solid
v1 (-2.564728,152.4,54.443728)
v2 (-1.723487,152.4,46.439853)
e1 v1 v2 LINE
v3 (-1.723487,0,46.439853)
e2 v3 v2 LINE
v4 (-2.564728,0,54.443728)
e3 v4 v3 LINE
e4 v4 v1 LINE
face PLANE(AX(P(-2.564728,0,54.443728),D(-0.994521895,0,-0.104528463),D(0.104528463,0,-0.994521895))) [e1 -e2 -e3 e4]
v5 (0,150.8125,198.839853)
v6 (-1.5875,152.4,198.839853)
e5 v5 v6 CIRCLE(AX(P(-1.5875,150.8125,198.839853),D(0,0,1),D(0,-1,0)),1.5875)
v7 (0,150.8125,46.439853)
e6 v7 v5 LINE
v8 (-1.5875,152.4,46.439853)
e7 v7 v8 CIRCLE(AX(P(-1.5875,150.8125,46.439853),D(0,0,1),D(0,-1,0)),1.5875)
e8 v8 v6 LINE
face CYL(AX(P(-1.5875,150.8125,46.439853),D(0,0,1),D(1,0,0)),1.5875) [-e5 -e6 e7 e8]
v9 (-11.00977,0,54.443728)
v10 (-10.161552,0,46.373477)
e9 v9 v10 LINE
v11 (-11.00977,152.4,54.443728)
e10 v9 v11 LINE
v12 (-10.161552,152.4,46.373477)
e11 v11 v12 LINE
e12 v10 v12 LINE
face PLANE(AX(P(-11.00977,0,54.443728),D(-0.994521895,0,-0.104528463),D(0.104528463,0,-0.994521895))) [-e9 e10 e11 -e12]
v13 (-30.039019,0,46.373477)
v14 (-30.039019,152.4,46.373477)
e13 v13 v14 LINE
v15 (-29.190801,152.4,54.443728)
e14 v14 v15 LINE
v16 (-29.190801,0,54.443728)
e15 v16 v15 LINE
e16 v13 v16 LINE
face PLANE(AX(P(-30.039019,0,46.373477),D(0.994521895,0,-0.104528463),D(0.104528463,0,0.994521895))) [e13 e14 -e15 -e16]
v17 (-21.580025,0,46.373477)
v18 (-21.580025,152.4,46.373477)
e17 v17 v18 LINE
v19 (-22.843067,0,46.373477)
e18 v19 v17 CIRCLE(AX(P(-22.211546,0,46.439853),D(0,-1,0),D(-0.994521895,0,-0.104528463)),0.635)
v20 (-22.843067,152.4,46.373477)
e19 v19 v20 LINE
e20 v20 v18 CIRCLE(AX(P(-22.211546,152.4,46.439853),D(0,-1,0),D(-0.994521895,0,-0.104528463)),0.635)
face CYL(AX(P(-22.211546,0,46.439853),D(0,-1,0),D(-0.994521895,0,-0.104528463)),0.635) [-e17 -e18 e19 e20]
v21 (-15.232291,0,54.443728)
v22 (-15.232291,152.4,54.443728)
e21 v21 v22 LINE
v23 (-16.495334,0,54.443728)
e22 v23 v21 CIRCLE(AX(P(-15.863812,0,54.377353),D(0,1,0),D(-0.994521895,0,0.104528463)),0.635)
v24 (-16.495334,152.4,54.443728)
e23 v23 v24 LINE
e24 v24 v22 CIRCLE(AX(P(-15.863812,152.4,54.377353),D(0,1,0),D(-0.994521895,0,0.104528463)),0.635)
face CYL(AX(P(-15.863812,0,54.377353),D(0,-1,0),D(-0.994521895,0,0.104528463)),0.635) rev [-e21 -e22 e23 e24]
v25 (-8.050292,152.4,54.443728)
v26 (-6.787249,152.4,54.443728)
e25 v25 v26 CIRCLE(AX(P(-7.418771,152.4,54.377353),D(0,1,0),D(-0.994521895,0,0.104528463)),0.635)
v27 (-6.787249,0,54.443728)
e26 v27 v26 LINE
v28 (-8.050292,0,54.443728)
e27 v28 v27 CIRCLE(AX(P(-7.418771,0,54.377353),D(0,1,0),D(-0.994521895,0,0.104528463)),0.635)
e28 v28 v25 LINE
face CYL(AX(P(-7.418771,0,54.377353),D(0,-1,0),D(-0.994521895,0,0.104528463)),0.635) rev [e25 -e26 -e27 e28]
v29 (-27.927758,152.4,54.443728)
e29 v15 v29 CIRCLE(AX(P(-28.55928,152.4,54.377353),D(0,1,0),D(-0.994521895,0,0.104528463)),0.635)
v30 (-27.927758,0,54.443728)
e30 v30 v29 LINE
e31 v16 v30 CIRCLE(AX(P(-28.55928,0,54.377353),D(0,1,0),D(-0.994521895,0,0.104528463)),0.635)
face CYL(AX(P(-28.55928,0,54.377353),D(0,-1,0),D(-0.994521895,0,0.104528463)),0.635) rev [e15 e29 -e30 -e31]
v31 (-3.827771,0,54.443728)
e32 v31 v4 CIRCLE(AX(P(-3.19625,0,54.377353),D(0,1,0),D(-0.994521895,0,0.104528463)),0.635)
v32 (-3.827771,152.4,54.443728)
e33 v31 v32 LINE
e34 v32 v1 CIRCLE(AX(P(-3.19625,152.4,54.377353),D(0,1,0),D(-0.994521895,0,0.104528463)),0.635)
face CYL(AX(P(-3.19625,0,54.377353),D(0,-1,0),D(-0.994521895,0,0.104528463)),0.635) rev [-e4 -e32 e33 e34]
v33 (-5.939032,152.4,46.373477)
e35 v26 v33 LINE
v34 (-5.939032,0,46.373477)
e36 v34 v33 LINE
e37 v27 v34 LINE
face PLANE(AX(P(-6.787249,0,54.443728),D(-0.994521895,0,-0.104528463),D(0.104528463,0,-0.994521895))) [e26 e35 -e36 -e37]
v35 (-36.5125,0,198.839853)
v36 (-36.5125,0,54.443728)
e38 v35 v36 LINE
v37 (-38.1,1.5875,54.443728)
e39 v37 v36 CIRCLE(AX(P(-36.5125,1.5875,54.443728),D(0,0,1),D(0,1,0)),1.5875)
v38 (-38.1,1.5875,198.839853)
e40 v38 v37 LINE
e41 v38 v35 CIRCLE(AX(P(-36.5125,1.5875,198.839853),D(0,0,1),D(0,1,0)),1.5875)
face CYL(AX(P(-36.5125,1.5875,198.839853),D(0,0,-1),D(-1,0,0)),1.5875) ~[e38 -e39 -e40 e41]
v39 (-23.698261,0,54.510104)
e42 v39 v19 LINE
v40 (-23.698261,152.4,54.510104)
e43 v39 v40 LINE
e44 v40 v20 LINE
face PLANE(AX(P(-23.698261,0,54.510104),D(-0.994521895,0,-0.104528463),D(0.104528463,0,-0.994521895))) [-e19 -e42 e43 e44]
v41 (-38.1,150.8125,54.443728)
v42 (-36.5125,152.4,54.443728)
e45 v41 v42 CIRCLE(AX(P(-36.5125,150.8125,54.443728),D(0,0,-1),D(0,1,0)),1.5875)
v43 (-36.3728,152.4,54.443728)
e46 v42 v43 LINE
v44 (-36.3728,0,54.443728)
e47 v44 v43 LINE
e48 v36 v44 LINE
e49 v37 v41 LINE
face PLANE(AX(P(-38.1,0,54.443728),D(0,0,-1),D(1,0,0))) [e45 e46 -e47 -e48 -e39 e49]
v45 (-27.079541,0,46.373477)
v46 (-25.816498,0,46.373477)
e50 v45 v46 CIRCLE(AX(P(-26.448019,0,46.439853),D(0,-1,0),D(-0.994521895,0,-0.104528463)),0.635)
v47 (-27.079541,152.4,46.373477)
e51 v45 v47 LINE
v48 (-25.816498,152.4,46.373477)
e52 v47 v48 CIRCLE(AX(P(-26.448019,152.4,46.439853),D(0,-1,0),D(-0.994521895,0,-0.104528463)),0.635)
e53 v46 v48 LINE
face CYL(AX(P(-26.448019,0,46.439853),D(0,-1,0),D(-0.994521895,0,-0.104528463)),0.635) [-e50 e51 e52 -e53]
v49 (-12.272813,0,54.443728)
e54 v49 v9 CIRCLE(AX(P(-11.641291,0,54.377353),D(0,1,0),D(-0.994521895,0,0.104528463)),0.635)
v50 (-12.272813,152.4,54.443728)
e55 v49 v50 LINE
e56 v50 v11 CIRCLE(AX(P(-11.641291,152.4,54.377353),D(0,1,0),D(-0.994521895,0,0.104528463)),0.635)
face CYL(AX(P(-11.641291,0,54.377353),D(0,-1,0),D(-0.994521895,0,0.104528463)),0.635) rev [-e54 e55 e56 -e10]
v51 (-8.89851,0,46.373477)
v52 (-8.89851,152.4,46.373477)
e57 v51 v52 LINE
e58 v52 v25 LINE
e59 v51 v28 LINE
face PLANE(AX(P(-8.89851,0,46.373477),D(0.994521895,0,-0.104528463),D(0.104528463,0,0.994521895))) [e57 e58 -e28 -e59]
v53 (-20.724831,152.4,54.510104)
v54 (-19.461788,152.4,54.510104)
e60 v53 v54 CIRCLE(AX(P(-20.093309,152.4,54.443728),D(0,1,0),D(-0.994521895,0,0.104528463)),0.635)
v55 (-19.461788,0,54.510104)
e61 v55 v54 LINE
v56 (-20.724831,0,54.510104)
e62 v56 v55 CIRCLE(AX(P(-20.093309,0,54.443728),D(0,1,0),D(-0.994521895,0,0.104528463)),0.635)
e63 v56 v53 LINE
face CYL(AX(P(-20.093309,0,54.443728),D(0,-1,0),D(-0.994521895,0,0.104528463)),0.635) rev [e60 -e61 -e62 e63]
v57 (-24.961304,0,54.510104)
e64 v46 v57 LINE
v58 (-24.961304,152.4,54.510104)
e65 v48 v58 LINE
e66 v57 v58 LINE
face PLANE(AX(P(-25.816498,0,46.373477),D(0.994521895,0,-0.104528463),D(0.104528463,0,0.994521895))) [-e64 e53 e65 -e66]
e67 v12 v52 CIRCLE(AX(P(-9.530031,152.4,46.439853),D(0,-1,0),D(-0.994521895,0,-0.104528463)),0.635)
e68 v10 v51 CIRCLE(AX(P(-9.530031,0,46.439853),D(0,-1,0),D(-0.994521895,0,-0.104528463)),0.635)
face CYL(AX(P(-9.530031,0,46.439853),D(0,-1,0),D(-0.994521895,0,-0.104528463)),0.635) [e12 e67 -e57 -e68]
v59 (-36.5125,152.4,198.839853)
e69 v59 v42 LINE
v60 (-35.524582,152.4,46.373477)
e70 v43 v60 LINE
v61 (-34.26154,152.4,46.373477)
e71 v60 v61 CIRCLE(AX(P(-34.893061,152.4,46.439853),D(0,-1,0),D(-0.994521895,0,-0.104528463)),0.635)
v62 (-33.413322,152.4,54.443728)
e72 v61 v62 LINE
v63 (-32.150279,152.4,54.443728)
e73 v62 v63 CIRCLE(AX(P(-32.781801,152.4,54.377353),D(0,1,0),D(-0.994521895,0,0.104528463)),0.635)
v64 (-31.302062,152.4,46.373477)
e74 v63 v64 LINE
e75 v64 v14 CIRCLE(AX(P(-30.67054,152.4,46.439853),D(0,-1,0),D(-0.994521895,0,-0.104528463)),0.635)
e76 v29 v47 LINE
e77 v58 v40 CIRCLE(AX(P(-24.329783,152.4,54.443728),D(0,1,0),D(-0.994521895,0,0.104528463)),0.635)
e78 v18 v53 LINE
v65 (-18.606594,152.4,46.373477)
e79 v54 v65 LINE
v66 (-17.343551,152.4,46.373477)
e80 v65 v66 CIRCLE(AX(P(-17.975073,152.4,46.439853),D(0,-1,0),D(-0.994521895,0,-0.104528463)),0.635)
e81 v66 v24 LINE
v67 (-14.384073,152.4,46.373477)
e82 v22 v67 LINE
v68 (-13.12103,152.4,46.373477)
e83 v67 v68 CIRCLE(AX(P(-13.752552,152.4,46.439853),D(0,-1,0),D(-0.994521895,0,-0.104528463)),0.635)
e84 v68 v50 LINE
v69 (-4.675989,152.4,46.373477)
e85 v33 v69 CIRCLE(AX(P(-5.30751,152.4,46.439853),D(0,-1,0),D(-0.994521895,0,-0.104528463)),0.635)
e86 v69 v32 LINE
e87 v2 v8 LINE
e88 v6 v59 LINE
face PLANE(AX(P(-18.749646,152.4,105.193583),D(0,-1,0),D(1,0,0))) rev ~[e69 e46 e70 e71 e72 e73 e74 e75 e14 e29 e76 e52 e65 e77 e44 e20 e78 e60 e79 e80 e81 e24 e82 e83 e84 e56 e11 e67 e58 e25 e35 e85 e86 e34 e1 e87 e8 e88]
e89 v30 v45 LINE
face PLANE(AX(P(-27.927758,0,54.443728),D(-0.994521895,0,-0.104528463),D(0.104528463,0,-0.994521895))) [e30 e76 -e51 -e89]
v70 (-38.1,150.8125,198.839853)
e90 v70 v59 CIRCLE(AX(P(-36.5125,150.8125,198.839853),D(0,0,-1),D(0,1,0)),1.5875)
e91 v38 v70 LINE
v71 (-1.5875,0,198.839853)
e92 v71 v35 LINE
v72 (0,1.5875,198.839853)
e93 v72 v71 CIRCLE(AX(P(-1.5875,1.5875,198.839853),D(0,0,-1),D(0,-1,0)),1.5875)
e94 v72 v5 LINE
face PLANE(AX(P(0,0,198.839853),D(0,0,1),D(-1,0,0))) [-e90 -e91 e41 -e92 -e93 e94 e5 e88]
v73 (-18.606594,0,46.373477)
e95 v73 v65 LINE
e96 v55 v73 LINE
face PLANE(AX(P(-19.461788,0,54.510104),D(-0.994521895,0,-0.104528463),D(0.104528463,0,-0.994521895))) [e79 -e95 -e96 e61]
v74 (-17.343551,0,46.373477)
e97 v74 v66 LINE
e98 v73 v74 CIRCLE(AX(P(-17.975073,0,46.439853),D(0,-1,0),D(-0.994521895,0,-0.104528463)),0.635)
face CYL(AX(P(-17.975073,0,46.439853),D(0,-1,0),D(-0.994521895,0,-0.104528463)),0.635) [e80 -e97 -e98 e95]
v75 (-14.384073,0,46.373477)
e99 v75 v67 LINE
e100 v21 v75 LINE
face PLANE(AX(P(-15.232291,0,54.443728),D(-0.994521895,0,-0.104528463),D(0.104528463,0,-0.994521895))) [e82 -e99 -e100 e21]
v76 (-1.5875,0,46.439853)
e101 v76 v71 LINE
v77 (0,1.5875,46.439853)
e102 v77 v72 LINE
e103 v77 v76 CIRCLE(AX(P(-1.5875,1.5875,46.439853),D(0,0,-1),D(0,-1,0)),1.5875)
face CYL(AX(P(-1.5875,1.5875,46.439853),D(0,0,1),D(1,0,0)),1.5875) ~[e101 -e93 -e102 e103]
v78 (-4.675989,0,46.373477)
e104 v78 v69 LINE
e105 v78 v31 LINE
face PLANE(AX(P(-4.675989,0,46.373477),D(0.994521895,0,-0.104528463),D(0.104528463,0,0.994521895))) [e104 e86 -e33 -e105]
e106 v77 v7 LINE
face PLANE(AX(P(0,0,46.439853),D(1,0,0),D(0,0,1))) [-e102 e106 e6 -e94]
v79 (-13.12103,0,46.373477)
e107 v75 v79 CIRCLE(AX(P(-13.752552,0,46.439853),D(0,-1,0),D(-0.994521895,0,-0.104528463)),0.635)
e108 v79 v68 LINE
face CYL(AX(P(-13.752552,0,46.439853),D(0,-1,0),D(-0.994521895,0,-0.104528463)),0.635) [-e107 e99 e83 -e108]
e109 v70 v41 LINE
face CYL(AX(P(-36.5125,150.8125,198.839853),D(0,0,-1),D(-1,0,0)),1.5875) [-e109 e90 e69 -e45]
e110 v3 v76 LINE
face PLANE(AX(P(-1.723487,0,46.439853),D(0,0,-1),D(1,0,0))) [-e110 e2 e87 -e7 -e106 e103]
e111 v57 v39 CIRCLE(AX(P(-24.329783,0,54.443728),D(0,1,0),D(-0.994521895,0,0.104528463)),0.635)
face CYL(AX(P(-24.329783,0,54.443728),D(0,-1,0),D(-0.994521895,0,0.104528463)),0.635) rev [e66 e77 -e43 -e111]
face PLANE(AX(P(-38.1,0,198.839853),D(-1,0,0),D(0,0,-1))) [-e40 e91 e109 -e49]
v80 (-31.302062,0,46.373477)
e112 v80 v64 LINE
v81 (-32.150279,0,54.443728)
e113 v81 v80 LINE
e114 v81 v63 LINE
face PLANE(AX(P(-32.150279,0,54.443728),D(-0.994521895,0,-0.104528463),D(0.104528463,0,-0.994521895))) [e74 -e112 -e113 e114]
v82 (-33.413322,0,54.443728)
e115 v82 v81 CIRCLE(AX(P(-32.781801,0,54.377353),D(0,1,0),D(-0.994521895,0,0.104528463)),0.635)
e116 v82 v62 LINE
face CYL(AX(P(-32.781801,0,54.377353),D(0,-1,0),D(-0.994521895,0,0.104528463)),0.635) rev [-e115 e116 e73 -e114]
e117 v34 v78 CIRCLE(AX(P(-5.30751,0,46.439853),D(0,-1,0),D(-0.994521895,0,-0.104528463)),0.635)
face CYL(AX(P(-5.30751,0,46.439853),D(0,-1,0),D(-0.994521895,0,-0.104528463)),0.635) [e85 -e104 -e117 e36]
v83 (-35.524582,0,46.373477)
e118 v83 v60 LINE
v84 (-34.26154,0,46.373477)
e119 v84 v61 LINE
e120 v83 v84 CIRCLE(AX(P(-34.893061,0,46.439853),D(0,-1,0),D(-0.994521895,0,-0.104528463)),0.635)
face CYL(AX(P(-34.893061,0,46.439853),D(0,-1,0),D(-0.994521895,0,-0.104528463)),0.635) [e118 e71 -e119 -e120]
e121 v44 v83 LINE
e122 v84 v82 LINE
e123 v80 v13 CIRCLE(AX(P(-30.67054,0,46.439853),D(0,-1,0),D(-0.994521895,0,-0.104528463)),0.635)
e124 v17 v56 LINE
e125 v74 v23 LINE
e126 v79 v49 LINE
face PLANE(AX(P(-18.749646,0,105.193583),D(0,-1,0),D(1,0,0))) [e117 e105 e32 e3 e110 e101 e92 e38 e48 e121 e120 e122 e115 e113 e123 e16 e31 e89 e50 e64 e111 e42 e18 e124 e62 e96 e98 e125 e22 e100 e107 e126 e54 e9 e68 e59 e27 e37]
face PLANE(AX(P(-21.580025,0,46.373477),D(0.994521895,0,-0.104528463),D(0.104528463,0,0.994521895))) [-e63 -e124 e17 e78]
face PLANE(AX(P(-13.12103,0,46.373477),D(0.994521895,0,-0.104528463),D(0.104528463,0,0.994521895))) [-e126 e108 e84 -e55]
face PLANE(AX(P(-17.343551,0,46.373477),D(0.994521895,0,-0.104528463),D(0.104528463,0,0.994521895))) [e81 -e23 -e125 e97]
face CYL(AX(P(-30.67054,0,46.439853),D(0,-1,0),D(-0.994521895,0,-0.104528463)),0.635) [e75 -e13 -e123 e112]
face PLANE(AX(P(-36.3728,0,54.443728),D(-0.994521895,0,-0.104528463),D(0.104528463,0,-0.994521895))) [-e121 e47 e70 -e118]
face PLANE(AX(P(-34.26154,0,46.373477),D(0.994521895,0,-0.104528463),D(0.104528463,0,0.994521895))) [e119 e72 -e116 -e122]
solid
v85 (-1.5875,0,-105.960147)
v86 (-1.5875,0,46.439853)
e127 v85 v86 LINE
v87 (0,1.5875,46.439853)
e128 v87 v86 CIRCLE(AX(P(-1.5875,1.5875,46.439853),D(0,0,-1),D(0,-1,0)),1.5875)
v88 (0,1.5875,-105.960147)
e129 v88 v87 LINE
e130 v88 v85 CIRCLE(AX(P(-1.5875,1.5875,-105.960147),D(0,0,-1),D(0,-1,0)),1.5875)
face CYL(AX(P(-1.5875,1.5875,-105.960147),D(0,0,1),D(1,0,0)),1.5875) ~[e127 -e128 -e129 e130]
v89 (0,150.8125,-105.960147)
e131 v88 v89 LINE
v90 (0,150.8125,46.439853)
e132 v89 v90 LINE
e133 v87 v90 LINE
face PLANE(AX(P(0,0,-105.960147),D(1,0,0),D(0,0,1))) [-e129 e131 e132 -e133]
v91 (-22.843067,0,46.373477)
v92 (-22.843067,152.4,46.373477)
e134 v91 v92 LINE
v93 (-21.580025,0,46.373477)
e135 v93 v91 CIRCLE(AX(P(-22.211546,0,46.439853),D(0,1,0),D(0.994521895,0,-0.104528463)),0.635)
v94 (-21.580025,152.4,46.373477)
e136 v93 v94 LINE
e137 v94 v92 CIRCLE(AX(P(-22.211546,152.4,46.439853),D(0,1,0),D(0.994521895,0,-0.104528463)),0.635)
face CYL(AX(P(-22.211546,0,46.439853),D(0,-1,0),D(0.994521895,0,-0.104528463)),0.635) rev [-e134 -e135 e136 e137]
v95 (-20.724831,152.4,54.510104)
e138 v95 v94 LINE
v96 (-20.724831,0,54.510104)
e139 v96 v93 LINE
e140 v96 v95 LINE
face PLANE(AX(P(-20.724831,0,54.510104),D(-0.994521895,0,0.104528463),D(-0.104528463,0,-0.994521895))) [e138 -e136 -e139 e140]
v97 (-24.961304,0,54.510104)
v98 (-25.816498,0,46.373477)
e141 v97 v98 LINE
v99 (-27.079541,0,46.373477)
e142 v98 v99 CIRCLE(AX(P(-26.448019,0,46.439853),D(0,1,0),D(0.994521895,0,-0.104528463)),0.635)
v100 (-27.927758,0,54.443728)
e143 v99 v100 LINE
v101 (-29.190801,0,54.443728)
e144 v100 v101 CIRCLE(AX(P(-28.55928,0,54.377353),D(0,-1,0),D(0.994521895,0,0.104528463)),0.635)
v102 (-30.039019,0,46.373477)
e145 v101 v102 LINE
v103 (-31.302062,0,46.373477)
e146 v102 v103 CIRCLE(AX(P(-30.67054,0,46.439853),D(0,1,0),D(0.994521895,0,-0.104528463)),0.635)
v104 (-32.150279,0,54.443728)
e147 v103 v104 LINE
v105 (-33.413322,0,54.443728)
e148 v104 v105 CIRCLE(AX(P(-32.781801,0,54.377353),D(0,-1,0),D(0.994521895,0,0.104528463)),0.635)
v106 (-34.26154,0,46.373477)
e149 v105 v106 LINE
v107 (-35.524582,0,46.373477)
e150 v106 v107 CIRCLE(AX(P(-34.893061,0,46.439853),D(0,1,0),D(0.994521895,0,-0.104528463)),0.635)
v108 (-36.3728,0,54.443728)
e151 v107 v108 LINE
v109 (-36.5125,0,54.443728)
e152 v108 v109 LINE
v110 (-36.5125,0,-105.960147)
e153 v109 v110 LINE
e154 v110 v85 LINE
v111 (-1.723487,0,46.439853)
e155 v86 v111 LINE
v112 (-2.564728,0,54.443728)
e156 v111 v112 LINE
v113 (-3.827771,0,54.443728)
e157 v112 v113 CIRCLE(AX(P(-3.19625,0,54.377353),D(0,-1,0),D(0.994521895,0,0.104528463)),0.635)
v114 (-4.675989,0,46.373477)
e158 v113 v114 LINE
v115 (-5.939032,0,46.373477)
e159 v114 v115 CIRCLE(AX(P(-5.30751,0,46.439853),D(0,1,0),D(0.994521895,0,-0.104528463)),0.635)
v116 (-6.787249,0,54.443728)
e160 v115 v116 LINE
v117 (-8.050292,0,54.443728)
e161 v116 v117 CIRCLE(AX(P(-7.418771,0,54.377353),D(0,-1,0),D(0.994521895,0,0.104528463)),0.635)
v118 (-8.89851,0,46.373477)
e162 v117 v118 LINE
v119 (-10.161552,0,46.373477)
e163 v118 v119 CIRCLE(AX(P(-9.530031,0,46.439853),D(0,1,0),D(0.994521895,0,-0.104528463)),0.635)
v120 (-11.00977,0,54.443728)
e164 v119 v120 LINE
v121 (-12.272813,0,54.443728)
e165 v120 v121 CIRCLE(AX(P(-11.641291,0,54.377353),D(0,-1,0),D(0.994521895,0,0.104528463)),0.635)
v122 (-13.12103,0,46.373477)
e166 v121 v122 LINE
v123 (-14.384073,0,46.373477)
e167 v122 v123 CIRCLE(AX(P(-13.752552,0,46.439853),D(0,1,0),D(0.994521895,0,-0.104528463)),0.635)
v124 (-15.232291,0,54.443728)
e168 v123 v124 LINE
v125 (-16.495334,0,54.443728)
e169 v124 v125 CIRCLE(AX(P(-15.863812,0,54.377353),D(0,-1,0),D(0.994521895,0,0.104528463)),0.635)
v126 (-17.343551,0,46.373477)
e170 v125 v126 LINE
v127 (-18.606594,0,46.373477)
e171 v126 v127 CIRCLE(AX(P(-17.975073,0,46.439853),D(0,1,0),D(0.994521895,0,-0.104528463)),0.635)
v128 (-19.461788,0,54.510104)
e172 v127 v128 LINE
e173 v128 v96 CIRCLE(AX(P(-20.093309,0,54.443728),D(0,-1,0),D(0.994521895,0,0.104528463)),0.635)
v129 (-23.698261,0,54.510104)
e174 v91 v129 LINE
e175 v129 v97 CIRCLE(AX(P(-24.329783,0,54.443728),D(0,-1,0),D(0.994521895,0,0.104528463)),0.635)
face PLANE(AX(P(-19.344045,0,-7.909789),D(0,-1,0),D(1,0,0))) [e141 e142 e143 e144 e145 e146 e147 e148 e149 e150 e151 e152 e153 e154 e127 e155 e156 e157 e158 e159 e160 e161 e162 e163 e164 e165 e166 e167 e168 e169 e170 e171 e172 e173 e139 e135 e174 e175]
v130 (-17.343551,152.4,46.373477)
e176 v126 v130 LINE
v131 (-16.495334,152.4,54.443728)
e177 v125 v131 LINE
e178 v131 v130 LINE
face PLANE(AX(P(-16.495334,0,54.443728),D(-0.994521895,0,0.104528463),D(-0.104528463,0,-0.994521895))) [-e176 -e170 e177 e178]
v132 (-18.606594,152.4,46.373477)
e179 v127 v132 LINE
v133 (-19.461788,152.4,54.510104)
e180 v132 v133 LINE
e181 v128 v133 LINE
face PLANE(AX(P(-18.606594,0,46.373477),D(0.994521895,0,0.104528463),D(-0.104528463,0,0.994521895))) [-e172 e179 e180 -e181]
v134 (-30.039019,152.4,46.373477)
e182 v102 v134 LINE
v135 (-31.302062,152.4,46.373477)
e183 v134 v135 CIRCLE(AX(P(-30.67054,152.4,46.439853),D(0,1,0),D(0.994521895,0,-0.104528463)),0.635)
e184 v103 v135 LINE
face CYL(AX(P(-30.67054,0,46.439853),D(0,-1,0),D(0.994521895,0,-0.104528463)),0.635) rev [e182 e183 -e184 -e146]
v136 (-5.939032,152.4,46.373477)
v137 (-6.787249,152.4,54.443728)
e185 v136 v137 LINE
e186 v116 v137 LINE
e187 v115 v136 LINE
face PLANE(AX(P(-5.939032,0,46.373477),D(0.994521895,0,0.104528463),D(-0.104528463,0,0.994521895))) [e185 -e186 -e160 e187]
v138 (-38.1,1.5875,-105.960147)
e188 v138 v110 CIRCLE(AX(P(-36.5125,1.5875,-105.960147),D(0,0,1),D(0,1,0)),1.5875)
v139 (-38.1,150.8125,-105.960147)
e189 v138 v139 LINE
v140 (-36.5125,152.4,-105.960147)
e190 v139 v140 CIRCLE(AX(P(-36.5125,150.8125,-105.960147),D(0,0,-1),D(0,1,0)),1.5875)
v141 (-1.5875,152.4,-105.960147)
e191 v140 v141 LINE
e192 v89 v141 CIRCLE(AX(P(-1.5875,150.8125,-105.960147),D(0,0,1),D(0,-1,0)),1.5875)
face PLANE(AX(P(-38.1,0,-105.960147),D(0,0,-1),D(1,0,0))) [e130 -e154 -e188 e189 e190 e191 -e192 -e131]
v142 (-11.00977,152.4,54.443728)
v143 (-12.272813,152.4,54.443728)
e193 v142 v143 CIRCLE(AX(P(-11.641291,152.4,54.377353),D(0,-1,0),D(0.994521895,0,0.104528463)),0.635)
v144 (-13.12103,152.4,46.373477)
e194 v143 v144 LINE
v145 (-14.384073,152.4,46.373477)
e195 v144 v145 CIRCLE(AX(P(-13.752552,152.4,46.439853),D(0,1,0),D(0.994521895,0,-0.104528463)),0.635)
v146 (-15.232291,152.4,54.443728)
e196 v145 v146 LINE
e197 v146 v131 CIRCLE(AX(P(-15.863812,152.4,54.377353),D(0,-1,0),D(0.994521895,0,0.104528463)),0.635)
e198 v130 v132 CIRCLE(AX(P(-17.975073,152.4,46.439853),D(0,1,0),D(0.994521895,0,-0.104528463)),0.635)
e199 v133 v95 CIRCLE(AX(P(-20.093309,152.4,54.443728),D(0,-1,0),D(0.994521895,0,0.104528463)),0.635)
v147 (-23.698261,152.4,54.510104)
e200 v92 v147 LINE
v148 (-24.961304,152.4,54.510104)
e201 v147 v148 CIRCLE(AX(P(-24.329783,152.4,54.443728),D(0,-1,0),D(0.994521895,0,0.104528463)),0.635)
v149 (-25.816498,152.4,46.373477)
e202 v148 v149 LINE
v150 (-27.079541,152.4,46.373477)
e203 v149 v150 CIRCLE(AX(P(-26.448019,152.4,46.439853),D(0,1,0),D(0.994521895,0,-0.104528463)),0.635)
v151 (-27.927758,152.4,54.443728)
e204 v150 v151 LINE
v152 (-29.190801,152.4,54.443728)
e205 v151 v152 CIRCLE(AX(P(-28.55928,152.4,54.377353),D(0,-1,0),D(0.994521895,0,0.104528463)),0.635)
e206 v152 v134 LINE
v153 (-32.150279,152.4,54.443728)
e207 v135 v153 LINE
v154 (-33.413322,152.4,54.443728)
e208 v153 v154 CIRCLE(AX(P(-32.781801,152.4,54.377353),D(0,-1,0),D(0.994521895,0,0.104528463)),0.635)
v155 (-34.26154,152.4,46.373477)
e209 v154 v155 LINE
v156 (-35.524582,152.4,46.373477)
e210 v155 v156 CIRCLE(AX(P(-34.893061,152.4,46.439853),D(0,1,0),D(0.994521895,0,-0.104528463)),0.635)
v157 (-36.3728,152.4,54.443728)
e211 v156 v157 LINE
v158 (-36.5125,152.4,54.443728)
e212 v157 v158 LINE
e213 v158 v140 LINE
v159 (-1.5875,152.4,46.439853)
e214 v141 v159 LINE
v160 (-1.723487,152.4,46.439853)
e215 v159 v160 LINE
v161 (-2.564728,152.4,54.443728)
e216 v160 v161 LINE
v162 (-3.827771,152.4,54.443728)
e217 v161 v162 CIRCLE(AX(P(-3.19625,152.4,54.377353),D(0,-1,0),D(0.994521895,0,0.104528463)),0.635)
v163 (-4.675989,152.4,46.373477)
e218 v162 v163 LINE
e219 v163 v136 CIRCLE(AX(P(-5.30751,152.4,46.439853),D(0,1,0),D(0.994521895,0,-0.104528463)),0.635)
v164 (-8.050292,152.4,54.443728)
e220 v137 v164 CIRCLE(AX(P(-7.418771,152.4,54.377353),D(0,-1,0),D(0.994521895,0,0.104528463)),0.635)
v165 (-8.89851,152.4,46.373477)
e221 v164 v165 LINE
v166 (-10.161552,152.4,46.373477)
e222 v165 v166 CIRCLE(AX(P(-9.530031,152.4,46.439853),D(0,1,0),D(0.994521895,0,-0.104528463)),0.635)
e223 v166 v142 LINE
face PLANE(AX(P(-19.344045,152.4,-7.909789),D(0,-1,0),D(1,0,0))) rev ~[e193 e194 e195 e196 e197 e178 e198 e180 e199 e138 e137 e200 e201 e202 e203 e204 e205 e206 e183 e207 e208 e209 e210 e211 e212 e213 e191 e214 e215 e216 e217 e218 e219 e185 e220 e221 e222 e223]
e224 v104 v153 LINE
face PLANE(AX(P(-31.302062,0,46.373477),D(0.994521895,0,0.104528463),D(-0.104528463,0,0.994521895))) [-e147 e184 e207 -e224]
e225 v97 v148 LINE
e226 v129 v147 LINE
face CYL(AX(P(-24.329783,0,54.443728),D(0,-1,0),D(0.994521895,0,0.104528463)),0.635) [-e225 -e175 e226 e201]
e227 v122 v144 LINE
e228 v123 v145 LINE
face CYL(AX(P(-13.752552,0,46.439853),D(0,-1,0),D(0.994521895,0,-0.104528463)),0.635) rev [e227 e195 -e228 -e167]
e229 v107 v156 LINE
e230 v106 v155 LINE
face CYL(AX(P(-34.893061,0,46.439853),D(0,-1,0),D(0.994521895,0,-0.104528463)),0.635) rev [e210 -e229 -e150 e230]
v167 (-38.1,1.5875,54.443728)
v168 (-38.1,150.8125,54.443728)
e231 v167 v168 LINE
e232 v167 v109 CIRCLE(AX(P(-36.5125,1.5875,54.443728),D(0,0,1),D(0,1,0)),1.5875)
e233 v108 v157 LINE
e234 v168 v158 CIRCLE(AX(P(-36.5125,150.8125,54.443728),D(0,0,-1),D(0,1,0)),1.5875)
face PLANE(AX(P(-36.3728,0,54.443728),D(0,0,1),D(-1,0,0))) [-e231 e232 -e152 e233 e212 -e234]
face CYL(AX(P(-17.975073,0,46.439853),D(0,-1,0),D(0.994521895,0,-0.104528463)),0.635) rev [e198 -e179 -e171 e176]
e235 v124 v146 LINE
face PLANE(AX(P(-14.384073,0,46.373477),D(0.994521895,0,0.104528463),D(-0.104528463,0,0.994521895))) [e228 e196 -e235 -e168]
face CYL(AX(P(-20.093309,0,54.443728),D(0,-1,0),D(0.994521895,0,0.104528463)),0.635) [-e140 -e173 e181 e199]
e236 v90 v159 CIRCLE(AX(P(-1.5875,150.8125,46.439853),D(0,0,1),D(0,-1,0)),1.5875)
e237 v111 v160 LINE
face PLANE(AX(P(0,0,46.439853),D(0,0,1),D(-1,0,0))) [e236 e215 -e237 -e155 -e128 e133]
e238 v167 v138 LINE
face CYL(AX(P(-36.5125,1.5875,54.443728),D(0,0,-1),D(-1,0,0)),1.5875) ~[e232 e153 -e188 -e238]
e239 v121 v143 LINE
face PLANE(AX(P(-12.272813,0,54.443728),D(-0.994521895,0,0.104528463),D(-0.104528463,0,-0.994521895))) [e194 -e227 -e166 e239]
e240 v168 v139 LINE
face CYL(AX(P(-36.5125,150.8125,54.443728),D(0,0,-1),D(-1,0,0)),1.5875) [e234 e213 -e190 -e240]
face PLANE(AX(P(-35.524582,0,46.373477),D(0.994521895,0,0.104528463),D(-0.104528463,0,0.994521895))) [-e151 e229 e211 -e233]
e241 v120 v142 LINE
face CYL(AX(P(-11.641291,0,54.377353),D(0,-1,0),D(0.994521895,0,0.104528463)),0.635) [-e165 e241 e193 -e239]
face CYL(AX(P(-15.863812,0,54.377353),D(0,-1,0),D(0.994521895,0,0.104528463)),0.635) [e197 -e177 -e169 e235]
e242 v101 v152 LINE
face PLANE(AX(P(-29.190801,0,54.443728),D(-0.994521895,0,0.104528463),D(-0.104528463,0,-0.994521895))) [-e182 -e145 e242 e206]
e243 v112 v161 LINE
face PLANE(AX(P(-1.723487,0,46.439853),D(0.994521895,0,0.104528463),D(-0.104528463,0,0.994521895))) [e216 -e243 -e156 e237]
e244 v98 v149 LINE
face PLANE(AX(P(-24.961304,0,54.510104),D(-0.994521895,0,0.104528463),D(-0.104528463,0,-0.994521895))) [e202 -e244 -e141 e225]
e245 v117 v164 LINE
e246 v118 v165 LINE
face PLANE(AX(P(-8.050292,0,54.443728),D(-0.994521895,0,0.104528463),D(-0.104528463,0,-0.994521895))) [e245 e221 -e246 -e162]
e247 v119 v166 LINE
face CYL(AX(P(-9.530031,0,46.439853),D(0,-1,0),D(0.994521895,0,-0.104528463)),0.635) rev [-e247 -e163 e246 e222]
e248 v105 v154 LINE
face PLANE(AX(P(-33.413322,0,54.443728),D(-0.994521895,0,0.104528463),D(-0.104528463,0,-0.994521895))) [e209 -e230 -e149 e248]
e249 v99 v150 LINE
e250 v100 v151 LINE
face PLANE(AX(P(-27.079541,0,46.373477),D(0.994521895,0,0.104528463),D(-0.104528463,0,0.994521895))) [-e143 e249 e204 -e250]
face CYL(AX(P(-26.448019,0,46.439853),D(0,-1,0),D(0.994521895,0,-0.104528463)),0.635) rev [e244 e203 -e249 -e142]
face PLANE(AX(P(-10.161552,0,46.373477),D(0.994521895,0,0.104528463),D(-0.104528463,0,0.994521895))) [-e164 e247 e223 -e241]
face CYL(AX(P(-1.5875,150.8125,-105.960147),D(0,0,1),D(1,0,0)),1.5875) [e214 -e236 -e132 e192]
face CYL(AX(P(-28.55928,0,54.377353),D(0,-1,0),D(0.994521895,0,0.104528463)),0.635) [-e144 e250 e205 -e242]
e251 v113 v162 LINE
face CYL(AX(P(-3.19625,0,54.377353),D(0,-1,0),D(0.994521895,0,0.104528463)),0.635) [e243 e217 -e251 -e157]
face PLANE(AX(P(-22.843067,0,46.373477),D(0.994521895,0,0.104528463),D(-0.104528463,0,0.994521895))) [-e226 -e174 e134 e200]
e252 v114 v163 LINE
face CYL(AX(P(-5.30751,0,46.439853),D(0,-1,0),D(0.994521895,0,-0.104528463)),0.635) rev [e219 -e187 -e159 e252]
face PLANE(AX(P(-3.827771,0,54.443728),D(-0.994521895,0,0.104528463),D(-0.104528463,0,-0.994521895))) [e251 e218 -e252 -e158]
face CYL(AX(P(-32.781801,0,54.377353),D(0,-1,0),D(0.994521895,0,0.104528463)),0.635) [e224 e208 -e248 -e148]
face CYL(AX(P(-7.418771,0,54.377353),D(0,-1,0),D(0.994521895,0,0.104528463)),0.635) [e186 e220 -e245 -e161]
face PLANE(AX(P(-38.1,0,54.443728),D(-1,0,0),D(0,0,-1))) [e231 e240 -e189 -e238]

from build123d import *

# Parameters (mm, degrees)
F1_DEPTH = 152.4
F2_DEPTH = 152.4
F3_R     = 1.5875
F3_2_R   = 1.5875


with BuildPart() as f1:
    # F0 (on Front) → F1 (new body)
    with BuildSketch(Plane.XZ):
        with BuildLine():
            Line((0, 198.8398526046), (-38.1, 198.8398526046))
            Line((-38.1, 198.8398526046), (-38.1, 54.4437281787))
            Line((-38.1, 54.4437281787), (-36.3728, 54.4437281787))
            Line((-36.3728, 54.4437281787), (-35.5245824247, 46.3734770304))
            ThreePointArc((-35.5245824247, 46.3734770304), (-34.8930610211, 45.8048526046), (-34.2615396175, 46.3734770304))
            Line((-34.2615396175, 46.3734770304), (-33.4133220422, 54.4437281787))
            ThreePointArc((-33.4133220422, 54.4437281787), (-32.7818006386, 55.0123526046), (-32.1502792351, 54.4437281787))
            Line((-32.1502792351, 54.4437281787), (-31.3020616597, 46.3734770304))
            ThreePointArc((-31.3020616597, 46.3734770304), (-30.6705402562, 45.8048526046), (-30.0390188526, 46.3734770304))
            Line((-30.0390188526, 46.3734770304), (-29.1908012772, 54.4437281787))
            ThreePointArc((-29.1908012772, 54.4437281787), (-28.5592798737, 55.0123526046), (-27.9277584701, 54.4437281787))
            Line((-27.9277584701, 54.4437281787), (-27.0795408948, 46.3734770304))
            ThreePointArc((-27.0795408948, 46.3734770304), (-26.4480194912, 45.8048526046), (-25.8164980877, 46.3734770304))
            Line((-25.8164980877, 46.3734770304), (-24.9613041584, 54.5101037529))
            ThreePointArc((-24.9613041584, 54.5101037529), (-24.3297827548, 55.0787281787), (-23.6982613512, 54.5101037529))
            Line((-23.6982613512, 54.5101037529), (-22.8430674219, 46.3734770304))
            ThreePointArc((-22.8430674219, 46.3734770304), (-22.2115460184, 45.8048526046), (-21.5800246148, 46.3734770304))
            Line((-21.5800246148, 46.3734770304), (-20.7248306855, 54.5101037529))
            ThreePointArc((-20.7248306855, 54.5101037529), (-20.0933092819, 55.0787281787), (-19.4617878784, 54.5101037529))
            Line((-19.4617878784, 54.5101037529), (-18.6065939491, 46.3734770304))
            ThreePointArc((-18.6065939491, 46.3734770304), (-17.9750725455, 45.8048526046), (-17.3435511419, 46.3734770304))
            Line((-17.3435511419, 46.3734770304), (-16.4953335666, 54.4437281787))
            ThreePointArc((-16.4953335666, 54.4437281787), (-15.863812163, 55.0123526046), (-15.2322907595, 54.4437281787))
            Line((-15.2322907595, 54.4437281787), (-14.3840731841, 46.3734770304))
            ThreePointArc((-14.3840731841, 46.3734770304), (-13.7525517806, 45.8048526046), (-13.121030377, 46.3734770304))
            Line((-13.121030377, 46.3734770304), (-12.2728128017, 54.4437281787))
            ThreePointArc((-12.2728128017, 54.4437281787), (-11.6412913981, 55.0123526046), (-11.0097699945, 54.4437281787))
            Line((-11.0097699945, 54.4437281787), (-10.1615524192, 46.3734770304))
            ThreePointArc((-10.1615524192, 46.3734770304), (-9.5300310156, 45.8048526046), (-8.8985096121, 46.3734770304))
            Line((-8.8985096121, 46.3734770304), (-8.0502920367, 54.4437281787))
            ThreePointArc((-8.0502920367, 54.4437281787), (-7.4187706332, 55.0123526046), (-6.7872492296, 54.4437281787))
            Line((-6.7872492296, 54.4437281787), (-5.9390316543, 46.3734770304))
            ThreePointArc((-5.9390316543, 46.3734770304), (-5.3075102507, 45.8048526046), (-4.6759888471, 46.3734770304))
            Line((-4.6759888471, 46.3734770304), (-3.8277712718, 54.4437281787))
            ThreePointArc((-3.8277712718, 54.4437281787), (-3.1962498682, 55.0123526046), (-2.5647284647, 54.4437281787))
            Line((-2.5647284647, 54.4437281787), (-1.7234872433, 46.4398526046))
            Line((-1.7234872433, 46.4398526046), (0, 46.4398526046))
            Line((0, 46.4398526046), (0, 198.8398526046))
        make_face()
    extrude(amount=-F1_DEPTH)

    # F3
    f3_edges = [f1.edges().sort_by_distance(p)[0] for p in [
        (-38.1, 0, 126.64179),
        (0, 0, 122.639853),
        (0, 152.4, 122.639853),
        (-38.1, 152.4, 126.64179),
    ]]
    fillet(f3_edges, radius=F3_R)


with BuildPart() as f2:
    # F0 (on Front) → F2 (new body)
    with BuildSketch(Plane.XZ):
        with BuildLine():
            Line((-36.3728, 54.4437281787), (-38.1, 54.4437281787))
            Line((-38.1, 54.4437281787), (-38.1, -105.9601473954))
            Line((-38.1, -105.9601473954), (0, -105.9601473954))
            Line((0, -105.9601473954), (0, 46.4398526046))
            Line((0, 46.4398526046), (-1.7234872433, 46.4398526046))
            Line((-1.7234872433, 46.4398526046), (-2.5647284647, 54.4437281787))
            ThreePointArc((-2.5647284647, 54.4437281787), (-3.1962498682, 55.0123526046), (-3.8277712718, 54.4437281787))
            Line((-3.8277712718, 54.4437281787), (-4.6759888471, 46.3734770304))
            ThreePointArc((-4.6759888471, 46.3734770304), (-5.3075102507, 45.8048526046), (-5.9390316543, 46.3734770304))
            Line((-5.9390316543, 46.3734770304), (-6.7872492296, 54.4437281787))
            ThreePointArc((-6.7872492296, 54.4437281787), (-7.4187706332, 55.0123526046), (-8.0502920367, 54.4437281787))
            Line((-8.0502920367, 54.4437281787), (-8.8985096121, 46.3734770304))
            ThreePointArc((-8.8985096121, 46.3734770304), (-9.5300310156, 45.8048526046), (-10.1615524192, 46.3734770304))
            Line((-10.1615524192, 46.3734770304), (-11.0097699945, 54.4437281787))
            ThreePointArc((-11.0097699945, 54.4437281787), (-11.6412913981, 55.0123526046), (-12.2728128017, 54.4437281787))
            Line((-12.2728128017, 54.4437281787), (-13.121030377, 46.3734770304))
            ThreePointArc((-13.121030377, 46.3734770304), (-13.7525517806, 45.8048526046), (-14.3840731841, 46.3734770304))
            Line((-14.3840731841, 46.3734770304), (-15.2322907595, 54.4437281787))
            ThreePointArc((-15.2322907595, 54.4437281787), (-15.863812163, 55.0123526046), (-16.4953335666, 54.4437281787))
            Line((-16.4953335666, 54.4437281787), (-17.3435511419, 46.3734770304))
            ThreePointArc((-17.3435511419, 46.3734770304), (-17.9750725455, 45.8048526046), (-18.6065939491, 46.3734770304))
            Line((-18.6065939491, 46.3734770304), (-19.4617878784, 54.5101037529))
            ThreePointArc((-19.4617878784, 54.5101037529), (-20.0933092819, 55.0787281787), (-20.7248306855, 54.5101037529))
            Line((-20.7248306855, 54.5101037529), (-21.5800246148, 46.3734770304))
            ThreePointArc((-21.5800246148, 46.3734770304), (-22.2115460184, 45.8048526046), (-22.8430674219, 46.3734770304))
            Line((-22.8430674219, 46.3734770304), (-23.6982613512, 54.5101037529))
            ThreePointArc((-23.6982613512, 54.5101037529), (-24.3297827548, 55.0787281787), (-24.9613041584, 54.5101037529))
            Line((-24.9613041584, 54.5101037529), (-25.8164980877, 46.3734770304))
            ThreePointArc((-25.8164980877, 46.3734770304), (-26.4480194912, 45.8048526046), (-27.0795408948, 46.3734770304))
            Line((-27.0795408948, 46.3734770304), (-27.9277584701, 54.4437281787))
            ThreePointArc((-27.9277584701, 54.4437281787), (-28.5592798737, 55.0123526046), (-29.1908012772, 54.4437281787))
            Line((-29.1908012772, 54.4437281787), (-30.0390188526, 46.3734770304))
            ThreePointArc((-30.0390188526, 46.3734770304), (-30.6705402562, 45.8048526046), (-31.3020616597, 46.3734770304))
            Line((-31.3020616597, 46.3734770304), (-32.1502792351, 54.4437281787))
            ThreePointArc((-32.1502792351, 54.4437281787), (-32.7818006386, 55.0123526046), (-33.4133220422, 54.4437281787))
            Line((-33.4133220422, 54.4437281787), (-34.2615396175, 46.3734770304))
            ThreePointArc((-34.2615396175, 46.3734770304), (-34.8930610211, 45.8048526046), (-35.5245824247, 46.3734770304))
            Line((-35.5245824247, 46.3734770304), (-36.3728, 54.4437281787))
        make_face()
    extrude(amount=-F2_DEPTH)

    # F3#2
    f3_2_edges = [f2.edges().sort_by_distance(p)[0] for p in [
        (-38.1, 0, -25.75821),
        (0, 0, -29.760147),
        (0, 152.4, -29.760147),
        (-38.1, 152.4, -25.75821),
    ]]
    fillet(f3_2_edges, radius=F3_2_R)


solid = Compound([f1.part, f2.part])
